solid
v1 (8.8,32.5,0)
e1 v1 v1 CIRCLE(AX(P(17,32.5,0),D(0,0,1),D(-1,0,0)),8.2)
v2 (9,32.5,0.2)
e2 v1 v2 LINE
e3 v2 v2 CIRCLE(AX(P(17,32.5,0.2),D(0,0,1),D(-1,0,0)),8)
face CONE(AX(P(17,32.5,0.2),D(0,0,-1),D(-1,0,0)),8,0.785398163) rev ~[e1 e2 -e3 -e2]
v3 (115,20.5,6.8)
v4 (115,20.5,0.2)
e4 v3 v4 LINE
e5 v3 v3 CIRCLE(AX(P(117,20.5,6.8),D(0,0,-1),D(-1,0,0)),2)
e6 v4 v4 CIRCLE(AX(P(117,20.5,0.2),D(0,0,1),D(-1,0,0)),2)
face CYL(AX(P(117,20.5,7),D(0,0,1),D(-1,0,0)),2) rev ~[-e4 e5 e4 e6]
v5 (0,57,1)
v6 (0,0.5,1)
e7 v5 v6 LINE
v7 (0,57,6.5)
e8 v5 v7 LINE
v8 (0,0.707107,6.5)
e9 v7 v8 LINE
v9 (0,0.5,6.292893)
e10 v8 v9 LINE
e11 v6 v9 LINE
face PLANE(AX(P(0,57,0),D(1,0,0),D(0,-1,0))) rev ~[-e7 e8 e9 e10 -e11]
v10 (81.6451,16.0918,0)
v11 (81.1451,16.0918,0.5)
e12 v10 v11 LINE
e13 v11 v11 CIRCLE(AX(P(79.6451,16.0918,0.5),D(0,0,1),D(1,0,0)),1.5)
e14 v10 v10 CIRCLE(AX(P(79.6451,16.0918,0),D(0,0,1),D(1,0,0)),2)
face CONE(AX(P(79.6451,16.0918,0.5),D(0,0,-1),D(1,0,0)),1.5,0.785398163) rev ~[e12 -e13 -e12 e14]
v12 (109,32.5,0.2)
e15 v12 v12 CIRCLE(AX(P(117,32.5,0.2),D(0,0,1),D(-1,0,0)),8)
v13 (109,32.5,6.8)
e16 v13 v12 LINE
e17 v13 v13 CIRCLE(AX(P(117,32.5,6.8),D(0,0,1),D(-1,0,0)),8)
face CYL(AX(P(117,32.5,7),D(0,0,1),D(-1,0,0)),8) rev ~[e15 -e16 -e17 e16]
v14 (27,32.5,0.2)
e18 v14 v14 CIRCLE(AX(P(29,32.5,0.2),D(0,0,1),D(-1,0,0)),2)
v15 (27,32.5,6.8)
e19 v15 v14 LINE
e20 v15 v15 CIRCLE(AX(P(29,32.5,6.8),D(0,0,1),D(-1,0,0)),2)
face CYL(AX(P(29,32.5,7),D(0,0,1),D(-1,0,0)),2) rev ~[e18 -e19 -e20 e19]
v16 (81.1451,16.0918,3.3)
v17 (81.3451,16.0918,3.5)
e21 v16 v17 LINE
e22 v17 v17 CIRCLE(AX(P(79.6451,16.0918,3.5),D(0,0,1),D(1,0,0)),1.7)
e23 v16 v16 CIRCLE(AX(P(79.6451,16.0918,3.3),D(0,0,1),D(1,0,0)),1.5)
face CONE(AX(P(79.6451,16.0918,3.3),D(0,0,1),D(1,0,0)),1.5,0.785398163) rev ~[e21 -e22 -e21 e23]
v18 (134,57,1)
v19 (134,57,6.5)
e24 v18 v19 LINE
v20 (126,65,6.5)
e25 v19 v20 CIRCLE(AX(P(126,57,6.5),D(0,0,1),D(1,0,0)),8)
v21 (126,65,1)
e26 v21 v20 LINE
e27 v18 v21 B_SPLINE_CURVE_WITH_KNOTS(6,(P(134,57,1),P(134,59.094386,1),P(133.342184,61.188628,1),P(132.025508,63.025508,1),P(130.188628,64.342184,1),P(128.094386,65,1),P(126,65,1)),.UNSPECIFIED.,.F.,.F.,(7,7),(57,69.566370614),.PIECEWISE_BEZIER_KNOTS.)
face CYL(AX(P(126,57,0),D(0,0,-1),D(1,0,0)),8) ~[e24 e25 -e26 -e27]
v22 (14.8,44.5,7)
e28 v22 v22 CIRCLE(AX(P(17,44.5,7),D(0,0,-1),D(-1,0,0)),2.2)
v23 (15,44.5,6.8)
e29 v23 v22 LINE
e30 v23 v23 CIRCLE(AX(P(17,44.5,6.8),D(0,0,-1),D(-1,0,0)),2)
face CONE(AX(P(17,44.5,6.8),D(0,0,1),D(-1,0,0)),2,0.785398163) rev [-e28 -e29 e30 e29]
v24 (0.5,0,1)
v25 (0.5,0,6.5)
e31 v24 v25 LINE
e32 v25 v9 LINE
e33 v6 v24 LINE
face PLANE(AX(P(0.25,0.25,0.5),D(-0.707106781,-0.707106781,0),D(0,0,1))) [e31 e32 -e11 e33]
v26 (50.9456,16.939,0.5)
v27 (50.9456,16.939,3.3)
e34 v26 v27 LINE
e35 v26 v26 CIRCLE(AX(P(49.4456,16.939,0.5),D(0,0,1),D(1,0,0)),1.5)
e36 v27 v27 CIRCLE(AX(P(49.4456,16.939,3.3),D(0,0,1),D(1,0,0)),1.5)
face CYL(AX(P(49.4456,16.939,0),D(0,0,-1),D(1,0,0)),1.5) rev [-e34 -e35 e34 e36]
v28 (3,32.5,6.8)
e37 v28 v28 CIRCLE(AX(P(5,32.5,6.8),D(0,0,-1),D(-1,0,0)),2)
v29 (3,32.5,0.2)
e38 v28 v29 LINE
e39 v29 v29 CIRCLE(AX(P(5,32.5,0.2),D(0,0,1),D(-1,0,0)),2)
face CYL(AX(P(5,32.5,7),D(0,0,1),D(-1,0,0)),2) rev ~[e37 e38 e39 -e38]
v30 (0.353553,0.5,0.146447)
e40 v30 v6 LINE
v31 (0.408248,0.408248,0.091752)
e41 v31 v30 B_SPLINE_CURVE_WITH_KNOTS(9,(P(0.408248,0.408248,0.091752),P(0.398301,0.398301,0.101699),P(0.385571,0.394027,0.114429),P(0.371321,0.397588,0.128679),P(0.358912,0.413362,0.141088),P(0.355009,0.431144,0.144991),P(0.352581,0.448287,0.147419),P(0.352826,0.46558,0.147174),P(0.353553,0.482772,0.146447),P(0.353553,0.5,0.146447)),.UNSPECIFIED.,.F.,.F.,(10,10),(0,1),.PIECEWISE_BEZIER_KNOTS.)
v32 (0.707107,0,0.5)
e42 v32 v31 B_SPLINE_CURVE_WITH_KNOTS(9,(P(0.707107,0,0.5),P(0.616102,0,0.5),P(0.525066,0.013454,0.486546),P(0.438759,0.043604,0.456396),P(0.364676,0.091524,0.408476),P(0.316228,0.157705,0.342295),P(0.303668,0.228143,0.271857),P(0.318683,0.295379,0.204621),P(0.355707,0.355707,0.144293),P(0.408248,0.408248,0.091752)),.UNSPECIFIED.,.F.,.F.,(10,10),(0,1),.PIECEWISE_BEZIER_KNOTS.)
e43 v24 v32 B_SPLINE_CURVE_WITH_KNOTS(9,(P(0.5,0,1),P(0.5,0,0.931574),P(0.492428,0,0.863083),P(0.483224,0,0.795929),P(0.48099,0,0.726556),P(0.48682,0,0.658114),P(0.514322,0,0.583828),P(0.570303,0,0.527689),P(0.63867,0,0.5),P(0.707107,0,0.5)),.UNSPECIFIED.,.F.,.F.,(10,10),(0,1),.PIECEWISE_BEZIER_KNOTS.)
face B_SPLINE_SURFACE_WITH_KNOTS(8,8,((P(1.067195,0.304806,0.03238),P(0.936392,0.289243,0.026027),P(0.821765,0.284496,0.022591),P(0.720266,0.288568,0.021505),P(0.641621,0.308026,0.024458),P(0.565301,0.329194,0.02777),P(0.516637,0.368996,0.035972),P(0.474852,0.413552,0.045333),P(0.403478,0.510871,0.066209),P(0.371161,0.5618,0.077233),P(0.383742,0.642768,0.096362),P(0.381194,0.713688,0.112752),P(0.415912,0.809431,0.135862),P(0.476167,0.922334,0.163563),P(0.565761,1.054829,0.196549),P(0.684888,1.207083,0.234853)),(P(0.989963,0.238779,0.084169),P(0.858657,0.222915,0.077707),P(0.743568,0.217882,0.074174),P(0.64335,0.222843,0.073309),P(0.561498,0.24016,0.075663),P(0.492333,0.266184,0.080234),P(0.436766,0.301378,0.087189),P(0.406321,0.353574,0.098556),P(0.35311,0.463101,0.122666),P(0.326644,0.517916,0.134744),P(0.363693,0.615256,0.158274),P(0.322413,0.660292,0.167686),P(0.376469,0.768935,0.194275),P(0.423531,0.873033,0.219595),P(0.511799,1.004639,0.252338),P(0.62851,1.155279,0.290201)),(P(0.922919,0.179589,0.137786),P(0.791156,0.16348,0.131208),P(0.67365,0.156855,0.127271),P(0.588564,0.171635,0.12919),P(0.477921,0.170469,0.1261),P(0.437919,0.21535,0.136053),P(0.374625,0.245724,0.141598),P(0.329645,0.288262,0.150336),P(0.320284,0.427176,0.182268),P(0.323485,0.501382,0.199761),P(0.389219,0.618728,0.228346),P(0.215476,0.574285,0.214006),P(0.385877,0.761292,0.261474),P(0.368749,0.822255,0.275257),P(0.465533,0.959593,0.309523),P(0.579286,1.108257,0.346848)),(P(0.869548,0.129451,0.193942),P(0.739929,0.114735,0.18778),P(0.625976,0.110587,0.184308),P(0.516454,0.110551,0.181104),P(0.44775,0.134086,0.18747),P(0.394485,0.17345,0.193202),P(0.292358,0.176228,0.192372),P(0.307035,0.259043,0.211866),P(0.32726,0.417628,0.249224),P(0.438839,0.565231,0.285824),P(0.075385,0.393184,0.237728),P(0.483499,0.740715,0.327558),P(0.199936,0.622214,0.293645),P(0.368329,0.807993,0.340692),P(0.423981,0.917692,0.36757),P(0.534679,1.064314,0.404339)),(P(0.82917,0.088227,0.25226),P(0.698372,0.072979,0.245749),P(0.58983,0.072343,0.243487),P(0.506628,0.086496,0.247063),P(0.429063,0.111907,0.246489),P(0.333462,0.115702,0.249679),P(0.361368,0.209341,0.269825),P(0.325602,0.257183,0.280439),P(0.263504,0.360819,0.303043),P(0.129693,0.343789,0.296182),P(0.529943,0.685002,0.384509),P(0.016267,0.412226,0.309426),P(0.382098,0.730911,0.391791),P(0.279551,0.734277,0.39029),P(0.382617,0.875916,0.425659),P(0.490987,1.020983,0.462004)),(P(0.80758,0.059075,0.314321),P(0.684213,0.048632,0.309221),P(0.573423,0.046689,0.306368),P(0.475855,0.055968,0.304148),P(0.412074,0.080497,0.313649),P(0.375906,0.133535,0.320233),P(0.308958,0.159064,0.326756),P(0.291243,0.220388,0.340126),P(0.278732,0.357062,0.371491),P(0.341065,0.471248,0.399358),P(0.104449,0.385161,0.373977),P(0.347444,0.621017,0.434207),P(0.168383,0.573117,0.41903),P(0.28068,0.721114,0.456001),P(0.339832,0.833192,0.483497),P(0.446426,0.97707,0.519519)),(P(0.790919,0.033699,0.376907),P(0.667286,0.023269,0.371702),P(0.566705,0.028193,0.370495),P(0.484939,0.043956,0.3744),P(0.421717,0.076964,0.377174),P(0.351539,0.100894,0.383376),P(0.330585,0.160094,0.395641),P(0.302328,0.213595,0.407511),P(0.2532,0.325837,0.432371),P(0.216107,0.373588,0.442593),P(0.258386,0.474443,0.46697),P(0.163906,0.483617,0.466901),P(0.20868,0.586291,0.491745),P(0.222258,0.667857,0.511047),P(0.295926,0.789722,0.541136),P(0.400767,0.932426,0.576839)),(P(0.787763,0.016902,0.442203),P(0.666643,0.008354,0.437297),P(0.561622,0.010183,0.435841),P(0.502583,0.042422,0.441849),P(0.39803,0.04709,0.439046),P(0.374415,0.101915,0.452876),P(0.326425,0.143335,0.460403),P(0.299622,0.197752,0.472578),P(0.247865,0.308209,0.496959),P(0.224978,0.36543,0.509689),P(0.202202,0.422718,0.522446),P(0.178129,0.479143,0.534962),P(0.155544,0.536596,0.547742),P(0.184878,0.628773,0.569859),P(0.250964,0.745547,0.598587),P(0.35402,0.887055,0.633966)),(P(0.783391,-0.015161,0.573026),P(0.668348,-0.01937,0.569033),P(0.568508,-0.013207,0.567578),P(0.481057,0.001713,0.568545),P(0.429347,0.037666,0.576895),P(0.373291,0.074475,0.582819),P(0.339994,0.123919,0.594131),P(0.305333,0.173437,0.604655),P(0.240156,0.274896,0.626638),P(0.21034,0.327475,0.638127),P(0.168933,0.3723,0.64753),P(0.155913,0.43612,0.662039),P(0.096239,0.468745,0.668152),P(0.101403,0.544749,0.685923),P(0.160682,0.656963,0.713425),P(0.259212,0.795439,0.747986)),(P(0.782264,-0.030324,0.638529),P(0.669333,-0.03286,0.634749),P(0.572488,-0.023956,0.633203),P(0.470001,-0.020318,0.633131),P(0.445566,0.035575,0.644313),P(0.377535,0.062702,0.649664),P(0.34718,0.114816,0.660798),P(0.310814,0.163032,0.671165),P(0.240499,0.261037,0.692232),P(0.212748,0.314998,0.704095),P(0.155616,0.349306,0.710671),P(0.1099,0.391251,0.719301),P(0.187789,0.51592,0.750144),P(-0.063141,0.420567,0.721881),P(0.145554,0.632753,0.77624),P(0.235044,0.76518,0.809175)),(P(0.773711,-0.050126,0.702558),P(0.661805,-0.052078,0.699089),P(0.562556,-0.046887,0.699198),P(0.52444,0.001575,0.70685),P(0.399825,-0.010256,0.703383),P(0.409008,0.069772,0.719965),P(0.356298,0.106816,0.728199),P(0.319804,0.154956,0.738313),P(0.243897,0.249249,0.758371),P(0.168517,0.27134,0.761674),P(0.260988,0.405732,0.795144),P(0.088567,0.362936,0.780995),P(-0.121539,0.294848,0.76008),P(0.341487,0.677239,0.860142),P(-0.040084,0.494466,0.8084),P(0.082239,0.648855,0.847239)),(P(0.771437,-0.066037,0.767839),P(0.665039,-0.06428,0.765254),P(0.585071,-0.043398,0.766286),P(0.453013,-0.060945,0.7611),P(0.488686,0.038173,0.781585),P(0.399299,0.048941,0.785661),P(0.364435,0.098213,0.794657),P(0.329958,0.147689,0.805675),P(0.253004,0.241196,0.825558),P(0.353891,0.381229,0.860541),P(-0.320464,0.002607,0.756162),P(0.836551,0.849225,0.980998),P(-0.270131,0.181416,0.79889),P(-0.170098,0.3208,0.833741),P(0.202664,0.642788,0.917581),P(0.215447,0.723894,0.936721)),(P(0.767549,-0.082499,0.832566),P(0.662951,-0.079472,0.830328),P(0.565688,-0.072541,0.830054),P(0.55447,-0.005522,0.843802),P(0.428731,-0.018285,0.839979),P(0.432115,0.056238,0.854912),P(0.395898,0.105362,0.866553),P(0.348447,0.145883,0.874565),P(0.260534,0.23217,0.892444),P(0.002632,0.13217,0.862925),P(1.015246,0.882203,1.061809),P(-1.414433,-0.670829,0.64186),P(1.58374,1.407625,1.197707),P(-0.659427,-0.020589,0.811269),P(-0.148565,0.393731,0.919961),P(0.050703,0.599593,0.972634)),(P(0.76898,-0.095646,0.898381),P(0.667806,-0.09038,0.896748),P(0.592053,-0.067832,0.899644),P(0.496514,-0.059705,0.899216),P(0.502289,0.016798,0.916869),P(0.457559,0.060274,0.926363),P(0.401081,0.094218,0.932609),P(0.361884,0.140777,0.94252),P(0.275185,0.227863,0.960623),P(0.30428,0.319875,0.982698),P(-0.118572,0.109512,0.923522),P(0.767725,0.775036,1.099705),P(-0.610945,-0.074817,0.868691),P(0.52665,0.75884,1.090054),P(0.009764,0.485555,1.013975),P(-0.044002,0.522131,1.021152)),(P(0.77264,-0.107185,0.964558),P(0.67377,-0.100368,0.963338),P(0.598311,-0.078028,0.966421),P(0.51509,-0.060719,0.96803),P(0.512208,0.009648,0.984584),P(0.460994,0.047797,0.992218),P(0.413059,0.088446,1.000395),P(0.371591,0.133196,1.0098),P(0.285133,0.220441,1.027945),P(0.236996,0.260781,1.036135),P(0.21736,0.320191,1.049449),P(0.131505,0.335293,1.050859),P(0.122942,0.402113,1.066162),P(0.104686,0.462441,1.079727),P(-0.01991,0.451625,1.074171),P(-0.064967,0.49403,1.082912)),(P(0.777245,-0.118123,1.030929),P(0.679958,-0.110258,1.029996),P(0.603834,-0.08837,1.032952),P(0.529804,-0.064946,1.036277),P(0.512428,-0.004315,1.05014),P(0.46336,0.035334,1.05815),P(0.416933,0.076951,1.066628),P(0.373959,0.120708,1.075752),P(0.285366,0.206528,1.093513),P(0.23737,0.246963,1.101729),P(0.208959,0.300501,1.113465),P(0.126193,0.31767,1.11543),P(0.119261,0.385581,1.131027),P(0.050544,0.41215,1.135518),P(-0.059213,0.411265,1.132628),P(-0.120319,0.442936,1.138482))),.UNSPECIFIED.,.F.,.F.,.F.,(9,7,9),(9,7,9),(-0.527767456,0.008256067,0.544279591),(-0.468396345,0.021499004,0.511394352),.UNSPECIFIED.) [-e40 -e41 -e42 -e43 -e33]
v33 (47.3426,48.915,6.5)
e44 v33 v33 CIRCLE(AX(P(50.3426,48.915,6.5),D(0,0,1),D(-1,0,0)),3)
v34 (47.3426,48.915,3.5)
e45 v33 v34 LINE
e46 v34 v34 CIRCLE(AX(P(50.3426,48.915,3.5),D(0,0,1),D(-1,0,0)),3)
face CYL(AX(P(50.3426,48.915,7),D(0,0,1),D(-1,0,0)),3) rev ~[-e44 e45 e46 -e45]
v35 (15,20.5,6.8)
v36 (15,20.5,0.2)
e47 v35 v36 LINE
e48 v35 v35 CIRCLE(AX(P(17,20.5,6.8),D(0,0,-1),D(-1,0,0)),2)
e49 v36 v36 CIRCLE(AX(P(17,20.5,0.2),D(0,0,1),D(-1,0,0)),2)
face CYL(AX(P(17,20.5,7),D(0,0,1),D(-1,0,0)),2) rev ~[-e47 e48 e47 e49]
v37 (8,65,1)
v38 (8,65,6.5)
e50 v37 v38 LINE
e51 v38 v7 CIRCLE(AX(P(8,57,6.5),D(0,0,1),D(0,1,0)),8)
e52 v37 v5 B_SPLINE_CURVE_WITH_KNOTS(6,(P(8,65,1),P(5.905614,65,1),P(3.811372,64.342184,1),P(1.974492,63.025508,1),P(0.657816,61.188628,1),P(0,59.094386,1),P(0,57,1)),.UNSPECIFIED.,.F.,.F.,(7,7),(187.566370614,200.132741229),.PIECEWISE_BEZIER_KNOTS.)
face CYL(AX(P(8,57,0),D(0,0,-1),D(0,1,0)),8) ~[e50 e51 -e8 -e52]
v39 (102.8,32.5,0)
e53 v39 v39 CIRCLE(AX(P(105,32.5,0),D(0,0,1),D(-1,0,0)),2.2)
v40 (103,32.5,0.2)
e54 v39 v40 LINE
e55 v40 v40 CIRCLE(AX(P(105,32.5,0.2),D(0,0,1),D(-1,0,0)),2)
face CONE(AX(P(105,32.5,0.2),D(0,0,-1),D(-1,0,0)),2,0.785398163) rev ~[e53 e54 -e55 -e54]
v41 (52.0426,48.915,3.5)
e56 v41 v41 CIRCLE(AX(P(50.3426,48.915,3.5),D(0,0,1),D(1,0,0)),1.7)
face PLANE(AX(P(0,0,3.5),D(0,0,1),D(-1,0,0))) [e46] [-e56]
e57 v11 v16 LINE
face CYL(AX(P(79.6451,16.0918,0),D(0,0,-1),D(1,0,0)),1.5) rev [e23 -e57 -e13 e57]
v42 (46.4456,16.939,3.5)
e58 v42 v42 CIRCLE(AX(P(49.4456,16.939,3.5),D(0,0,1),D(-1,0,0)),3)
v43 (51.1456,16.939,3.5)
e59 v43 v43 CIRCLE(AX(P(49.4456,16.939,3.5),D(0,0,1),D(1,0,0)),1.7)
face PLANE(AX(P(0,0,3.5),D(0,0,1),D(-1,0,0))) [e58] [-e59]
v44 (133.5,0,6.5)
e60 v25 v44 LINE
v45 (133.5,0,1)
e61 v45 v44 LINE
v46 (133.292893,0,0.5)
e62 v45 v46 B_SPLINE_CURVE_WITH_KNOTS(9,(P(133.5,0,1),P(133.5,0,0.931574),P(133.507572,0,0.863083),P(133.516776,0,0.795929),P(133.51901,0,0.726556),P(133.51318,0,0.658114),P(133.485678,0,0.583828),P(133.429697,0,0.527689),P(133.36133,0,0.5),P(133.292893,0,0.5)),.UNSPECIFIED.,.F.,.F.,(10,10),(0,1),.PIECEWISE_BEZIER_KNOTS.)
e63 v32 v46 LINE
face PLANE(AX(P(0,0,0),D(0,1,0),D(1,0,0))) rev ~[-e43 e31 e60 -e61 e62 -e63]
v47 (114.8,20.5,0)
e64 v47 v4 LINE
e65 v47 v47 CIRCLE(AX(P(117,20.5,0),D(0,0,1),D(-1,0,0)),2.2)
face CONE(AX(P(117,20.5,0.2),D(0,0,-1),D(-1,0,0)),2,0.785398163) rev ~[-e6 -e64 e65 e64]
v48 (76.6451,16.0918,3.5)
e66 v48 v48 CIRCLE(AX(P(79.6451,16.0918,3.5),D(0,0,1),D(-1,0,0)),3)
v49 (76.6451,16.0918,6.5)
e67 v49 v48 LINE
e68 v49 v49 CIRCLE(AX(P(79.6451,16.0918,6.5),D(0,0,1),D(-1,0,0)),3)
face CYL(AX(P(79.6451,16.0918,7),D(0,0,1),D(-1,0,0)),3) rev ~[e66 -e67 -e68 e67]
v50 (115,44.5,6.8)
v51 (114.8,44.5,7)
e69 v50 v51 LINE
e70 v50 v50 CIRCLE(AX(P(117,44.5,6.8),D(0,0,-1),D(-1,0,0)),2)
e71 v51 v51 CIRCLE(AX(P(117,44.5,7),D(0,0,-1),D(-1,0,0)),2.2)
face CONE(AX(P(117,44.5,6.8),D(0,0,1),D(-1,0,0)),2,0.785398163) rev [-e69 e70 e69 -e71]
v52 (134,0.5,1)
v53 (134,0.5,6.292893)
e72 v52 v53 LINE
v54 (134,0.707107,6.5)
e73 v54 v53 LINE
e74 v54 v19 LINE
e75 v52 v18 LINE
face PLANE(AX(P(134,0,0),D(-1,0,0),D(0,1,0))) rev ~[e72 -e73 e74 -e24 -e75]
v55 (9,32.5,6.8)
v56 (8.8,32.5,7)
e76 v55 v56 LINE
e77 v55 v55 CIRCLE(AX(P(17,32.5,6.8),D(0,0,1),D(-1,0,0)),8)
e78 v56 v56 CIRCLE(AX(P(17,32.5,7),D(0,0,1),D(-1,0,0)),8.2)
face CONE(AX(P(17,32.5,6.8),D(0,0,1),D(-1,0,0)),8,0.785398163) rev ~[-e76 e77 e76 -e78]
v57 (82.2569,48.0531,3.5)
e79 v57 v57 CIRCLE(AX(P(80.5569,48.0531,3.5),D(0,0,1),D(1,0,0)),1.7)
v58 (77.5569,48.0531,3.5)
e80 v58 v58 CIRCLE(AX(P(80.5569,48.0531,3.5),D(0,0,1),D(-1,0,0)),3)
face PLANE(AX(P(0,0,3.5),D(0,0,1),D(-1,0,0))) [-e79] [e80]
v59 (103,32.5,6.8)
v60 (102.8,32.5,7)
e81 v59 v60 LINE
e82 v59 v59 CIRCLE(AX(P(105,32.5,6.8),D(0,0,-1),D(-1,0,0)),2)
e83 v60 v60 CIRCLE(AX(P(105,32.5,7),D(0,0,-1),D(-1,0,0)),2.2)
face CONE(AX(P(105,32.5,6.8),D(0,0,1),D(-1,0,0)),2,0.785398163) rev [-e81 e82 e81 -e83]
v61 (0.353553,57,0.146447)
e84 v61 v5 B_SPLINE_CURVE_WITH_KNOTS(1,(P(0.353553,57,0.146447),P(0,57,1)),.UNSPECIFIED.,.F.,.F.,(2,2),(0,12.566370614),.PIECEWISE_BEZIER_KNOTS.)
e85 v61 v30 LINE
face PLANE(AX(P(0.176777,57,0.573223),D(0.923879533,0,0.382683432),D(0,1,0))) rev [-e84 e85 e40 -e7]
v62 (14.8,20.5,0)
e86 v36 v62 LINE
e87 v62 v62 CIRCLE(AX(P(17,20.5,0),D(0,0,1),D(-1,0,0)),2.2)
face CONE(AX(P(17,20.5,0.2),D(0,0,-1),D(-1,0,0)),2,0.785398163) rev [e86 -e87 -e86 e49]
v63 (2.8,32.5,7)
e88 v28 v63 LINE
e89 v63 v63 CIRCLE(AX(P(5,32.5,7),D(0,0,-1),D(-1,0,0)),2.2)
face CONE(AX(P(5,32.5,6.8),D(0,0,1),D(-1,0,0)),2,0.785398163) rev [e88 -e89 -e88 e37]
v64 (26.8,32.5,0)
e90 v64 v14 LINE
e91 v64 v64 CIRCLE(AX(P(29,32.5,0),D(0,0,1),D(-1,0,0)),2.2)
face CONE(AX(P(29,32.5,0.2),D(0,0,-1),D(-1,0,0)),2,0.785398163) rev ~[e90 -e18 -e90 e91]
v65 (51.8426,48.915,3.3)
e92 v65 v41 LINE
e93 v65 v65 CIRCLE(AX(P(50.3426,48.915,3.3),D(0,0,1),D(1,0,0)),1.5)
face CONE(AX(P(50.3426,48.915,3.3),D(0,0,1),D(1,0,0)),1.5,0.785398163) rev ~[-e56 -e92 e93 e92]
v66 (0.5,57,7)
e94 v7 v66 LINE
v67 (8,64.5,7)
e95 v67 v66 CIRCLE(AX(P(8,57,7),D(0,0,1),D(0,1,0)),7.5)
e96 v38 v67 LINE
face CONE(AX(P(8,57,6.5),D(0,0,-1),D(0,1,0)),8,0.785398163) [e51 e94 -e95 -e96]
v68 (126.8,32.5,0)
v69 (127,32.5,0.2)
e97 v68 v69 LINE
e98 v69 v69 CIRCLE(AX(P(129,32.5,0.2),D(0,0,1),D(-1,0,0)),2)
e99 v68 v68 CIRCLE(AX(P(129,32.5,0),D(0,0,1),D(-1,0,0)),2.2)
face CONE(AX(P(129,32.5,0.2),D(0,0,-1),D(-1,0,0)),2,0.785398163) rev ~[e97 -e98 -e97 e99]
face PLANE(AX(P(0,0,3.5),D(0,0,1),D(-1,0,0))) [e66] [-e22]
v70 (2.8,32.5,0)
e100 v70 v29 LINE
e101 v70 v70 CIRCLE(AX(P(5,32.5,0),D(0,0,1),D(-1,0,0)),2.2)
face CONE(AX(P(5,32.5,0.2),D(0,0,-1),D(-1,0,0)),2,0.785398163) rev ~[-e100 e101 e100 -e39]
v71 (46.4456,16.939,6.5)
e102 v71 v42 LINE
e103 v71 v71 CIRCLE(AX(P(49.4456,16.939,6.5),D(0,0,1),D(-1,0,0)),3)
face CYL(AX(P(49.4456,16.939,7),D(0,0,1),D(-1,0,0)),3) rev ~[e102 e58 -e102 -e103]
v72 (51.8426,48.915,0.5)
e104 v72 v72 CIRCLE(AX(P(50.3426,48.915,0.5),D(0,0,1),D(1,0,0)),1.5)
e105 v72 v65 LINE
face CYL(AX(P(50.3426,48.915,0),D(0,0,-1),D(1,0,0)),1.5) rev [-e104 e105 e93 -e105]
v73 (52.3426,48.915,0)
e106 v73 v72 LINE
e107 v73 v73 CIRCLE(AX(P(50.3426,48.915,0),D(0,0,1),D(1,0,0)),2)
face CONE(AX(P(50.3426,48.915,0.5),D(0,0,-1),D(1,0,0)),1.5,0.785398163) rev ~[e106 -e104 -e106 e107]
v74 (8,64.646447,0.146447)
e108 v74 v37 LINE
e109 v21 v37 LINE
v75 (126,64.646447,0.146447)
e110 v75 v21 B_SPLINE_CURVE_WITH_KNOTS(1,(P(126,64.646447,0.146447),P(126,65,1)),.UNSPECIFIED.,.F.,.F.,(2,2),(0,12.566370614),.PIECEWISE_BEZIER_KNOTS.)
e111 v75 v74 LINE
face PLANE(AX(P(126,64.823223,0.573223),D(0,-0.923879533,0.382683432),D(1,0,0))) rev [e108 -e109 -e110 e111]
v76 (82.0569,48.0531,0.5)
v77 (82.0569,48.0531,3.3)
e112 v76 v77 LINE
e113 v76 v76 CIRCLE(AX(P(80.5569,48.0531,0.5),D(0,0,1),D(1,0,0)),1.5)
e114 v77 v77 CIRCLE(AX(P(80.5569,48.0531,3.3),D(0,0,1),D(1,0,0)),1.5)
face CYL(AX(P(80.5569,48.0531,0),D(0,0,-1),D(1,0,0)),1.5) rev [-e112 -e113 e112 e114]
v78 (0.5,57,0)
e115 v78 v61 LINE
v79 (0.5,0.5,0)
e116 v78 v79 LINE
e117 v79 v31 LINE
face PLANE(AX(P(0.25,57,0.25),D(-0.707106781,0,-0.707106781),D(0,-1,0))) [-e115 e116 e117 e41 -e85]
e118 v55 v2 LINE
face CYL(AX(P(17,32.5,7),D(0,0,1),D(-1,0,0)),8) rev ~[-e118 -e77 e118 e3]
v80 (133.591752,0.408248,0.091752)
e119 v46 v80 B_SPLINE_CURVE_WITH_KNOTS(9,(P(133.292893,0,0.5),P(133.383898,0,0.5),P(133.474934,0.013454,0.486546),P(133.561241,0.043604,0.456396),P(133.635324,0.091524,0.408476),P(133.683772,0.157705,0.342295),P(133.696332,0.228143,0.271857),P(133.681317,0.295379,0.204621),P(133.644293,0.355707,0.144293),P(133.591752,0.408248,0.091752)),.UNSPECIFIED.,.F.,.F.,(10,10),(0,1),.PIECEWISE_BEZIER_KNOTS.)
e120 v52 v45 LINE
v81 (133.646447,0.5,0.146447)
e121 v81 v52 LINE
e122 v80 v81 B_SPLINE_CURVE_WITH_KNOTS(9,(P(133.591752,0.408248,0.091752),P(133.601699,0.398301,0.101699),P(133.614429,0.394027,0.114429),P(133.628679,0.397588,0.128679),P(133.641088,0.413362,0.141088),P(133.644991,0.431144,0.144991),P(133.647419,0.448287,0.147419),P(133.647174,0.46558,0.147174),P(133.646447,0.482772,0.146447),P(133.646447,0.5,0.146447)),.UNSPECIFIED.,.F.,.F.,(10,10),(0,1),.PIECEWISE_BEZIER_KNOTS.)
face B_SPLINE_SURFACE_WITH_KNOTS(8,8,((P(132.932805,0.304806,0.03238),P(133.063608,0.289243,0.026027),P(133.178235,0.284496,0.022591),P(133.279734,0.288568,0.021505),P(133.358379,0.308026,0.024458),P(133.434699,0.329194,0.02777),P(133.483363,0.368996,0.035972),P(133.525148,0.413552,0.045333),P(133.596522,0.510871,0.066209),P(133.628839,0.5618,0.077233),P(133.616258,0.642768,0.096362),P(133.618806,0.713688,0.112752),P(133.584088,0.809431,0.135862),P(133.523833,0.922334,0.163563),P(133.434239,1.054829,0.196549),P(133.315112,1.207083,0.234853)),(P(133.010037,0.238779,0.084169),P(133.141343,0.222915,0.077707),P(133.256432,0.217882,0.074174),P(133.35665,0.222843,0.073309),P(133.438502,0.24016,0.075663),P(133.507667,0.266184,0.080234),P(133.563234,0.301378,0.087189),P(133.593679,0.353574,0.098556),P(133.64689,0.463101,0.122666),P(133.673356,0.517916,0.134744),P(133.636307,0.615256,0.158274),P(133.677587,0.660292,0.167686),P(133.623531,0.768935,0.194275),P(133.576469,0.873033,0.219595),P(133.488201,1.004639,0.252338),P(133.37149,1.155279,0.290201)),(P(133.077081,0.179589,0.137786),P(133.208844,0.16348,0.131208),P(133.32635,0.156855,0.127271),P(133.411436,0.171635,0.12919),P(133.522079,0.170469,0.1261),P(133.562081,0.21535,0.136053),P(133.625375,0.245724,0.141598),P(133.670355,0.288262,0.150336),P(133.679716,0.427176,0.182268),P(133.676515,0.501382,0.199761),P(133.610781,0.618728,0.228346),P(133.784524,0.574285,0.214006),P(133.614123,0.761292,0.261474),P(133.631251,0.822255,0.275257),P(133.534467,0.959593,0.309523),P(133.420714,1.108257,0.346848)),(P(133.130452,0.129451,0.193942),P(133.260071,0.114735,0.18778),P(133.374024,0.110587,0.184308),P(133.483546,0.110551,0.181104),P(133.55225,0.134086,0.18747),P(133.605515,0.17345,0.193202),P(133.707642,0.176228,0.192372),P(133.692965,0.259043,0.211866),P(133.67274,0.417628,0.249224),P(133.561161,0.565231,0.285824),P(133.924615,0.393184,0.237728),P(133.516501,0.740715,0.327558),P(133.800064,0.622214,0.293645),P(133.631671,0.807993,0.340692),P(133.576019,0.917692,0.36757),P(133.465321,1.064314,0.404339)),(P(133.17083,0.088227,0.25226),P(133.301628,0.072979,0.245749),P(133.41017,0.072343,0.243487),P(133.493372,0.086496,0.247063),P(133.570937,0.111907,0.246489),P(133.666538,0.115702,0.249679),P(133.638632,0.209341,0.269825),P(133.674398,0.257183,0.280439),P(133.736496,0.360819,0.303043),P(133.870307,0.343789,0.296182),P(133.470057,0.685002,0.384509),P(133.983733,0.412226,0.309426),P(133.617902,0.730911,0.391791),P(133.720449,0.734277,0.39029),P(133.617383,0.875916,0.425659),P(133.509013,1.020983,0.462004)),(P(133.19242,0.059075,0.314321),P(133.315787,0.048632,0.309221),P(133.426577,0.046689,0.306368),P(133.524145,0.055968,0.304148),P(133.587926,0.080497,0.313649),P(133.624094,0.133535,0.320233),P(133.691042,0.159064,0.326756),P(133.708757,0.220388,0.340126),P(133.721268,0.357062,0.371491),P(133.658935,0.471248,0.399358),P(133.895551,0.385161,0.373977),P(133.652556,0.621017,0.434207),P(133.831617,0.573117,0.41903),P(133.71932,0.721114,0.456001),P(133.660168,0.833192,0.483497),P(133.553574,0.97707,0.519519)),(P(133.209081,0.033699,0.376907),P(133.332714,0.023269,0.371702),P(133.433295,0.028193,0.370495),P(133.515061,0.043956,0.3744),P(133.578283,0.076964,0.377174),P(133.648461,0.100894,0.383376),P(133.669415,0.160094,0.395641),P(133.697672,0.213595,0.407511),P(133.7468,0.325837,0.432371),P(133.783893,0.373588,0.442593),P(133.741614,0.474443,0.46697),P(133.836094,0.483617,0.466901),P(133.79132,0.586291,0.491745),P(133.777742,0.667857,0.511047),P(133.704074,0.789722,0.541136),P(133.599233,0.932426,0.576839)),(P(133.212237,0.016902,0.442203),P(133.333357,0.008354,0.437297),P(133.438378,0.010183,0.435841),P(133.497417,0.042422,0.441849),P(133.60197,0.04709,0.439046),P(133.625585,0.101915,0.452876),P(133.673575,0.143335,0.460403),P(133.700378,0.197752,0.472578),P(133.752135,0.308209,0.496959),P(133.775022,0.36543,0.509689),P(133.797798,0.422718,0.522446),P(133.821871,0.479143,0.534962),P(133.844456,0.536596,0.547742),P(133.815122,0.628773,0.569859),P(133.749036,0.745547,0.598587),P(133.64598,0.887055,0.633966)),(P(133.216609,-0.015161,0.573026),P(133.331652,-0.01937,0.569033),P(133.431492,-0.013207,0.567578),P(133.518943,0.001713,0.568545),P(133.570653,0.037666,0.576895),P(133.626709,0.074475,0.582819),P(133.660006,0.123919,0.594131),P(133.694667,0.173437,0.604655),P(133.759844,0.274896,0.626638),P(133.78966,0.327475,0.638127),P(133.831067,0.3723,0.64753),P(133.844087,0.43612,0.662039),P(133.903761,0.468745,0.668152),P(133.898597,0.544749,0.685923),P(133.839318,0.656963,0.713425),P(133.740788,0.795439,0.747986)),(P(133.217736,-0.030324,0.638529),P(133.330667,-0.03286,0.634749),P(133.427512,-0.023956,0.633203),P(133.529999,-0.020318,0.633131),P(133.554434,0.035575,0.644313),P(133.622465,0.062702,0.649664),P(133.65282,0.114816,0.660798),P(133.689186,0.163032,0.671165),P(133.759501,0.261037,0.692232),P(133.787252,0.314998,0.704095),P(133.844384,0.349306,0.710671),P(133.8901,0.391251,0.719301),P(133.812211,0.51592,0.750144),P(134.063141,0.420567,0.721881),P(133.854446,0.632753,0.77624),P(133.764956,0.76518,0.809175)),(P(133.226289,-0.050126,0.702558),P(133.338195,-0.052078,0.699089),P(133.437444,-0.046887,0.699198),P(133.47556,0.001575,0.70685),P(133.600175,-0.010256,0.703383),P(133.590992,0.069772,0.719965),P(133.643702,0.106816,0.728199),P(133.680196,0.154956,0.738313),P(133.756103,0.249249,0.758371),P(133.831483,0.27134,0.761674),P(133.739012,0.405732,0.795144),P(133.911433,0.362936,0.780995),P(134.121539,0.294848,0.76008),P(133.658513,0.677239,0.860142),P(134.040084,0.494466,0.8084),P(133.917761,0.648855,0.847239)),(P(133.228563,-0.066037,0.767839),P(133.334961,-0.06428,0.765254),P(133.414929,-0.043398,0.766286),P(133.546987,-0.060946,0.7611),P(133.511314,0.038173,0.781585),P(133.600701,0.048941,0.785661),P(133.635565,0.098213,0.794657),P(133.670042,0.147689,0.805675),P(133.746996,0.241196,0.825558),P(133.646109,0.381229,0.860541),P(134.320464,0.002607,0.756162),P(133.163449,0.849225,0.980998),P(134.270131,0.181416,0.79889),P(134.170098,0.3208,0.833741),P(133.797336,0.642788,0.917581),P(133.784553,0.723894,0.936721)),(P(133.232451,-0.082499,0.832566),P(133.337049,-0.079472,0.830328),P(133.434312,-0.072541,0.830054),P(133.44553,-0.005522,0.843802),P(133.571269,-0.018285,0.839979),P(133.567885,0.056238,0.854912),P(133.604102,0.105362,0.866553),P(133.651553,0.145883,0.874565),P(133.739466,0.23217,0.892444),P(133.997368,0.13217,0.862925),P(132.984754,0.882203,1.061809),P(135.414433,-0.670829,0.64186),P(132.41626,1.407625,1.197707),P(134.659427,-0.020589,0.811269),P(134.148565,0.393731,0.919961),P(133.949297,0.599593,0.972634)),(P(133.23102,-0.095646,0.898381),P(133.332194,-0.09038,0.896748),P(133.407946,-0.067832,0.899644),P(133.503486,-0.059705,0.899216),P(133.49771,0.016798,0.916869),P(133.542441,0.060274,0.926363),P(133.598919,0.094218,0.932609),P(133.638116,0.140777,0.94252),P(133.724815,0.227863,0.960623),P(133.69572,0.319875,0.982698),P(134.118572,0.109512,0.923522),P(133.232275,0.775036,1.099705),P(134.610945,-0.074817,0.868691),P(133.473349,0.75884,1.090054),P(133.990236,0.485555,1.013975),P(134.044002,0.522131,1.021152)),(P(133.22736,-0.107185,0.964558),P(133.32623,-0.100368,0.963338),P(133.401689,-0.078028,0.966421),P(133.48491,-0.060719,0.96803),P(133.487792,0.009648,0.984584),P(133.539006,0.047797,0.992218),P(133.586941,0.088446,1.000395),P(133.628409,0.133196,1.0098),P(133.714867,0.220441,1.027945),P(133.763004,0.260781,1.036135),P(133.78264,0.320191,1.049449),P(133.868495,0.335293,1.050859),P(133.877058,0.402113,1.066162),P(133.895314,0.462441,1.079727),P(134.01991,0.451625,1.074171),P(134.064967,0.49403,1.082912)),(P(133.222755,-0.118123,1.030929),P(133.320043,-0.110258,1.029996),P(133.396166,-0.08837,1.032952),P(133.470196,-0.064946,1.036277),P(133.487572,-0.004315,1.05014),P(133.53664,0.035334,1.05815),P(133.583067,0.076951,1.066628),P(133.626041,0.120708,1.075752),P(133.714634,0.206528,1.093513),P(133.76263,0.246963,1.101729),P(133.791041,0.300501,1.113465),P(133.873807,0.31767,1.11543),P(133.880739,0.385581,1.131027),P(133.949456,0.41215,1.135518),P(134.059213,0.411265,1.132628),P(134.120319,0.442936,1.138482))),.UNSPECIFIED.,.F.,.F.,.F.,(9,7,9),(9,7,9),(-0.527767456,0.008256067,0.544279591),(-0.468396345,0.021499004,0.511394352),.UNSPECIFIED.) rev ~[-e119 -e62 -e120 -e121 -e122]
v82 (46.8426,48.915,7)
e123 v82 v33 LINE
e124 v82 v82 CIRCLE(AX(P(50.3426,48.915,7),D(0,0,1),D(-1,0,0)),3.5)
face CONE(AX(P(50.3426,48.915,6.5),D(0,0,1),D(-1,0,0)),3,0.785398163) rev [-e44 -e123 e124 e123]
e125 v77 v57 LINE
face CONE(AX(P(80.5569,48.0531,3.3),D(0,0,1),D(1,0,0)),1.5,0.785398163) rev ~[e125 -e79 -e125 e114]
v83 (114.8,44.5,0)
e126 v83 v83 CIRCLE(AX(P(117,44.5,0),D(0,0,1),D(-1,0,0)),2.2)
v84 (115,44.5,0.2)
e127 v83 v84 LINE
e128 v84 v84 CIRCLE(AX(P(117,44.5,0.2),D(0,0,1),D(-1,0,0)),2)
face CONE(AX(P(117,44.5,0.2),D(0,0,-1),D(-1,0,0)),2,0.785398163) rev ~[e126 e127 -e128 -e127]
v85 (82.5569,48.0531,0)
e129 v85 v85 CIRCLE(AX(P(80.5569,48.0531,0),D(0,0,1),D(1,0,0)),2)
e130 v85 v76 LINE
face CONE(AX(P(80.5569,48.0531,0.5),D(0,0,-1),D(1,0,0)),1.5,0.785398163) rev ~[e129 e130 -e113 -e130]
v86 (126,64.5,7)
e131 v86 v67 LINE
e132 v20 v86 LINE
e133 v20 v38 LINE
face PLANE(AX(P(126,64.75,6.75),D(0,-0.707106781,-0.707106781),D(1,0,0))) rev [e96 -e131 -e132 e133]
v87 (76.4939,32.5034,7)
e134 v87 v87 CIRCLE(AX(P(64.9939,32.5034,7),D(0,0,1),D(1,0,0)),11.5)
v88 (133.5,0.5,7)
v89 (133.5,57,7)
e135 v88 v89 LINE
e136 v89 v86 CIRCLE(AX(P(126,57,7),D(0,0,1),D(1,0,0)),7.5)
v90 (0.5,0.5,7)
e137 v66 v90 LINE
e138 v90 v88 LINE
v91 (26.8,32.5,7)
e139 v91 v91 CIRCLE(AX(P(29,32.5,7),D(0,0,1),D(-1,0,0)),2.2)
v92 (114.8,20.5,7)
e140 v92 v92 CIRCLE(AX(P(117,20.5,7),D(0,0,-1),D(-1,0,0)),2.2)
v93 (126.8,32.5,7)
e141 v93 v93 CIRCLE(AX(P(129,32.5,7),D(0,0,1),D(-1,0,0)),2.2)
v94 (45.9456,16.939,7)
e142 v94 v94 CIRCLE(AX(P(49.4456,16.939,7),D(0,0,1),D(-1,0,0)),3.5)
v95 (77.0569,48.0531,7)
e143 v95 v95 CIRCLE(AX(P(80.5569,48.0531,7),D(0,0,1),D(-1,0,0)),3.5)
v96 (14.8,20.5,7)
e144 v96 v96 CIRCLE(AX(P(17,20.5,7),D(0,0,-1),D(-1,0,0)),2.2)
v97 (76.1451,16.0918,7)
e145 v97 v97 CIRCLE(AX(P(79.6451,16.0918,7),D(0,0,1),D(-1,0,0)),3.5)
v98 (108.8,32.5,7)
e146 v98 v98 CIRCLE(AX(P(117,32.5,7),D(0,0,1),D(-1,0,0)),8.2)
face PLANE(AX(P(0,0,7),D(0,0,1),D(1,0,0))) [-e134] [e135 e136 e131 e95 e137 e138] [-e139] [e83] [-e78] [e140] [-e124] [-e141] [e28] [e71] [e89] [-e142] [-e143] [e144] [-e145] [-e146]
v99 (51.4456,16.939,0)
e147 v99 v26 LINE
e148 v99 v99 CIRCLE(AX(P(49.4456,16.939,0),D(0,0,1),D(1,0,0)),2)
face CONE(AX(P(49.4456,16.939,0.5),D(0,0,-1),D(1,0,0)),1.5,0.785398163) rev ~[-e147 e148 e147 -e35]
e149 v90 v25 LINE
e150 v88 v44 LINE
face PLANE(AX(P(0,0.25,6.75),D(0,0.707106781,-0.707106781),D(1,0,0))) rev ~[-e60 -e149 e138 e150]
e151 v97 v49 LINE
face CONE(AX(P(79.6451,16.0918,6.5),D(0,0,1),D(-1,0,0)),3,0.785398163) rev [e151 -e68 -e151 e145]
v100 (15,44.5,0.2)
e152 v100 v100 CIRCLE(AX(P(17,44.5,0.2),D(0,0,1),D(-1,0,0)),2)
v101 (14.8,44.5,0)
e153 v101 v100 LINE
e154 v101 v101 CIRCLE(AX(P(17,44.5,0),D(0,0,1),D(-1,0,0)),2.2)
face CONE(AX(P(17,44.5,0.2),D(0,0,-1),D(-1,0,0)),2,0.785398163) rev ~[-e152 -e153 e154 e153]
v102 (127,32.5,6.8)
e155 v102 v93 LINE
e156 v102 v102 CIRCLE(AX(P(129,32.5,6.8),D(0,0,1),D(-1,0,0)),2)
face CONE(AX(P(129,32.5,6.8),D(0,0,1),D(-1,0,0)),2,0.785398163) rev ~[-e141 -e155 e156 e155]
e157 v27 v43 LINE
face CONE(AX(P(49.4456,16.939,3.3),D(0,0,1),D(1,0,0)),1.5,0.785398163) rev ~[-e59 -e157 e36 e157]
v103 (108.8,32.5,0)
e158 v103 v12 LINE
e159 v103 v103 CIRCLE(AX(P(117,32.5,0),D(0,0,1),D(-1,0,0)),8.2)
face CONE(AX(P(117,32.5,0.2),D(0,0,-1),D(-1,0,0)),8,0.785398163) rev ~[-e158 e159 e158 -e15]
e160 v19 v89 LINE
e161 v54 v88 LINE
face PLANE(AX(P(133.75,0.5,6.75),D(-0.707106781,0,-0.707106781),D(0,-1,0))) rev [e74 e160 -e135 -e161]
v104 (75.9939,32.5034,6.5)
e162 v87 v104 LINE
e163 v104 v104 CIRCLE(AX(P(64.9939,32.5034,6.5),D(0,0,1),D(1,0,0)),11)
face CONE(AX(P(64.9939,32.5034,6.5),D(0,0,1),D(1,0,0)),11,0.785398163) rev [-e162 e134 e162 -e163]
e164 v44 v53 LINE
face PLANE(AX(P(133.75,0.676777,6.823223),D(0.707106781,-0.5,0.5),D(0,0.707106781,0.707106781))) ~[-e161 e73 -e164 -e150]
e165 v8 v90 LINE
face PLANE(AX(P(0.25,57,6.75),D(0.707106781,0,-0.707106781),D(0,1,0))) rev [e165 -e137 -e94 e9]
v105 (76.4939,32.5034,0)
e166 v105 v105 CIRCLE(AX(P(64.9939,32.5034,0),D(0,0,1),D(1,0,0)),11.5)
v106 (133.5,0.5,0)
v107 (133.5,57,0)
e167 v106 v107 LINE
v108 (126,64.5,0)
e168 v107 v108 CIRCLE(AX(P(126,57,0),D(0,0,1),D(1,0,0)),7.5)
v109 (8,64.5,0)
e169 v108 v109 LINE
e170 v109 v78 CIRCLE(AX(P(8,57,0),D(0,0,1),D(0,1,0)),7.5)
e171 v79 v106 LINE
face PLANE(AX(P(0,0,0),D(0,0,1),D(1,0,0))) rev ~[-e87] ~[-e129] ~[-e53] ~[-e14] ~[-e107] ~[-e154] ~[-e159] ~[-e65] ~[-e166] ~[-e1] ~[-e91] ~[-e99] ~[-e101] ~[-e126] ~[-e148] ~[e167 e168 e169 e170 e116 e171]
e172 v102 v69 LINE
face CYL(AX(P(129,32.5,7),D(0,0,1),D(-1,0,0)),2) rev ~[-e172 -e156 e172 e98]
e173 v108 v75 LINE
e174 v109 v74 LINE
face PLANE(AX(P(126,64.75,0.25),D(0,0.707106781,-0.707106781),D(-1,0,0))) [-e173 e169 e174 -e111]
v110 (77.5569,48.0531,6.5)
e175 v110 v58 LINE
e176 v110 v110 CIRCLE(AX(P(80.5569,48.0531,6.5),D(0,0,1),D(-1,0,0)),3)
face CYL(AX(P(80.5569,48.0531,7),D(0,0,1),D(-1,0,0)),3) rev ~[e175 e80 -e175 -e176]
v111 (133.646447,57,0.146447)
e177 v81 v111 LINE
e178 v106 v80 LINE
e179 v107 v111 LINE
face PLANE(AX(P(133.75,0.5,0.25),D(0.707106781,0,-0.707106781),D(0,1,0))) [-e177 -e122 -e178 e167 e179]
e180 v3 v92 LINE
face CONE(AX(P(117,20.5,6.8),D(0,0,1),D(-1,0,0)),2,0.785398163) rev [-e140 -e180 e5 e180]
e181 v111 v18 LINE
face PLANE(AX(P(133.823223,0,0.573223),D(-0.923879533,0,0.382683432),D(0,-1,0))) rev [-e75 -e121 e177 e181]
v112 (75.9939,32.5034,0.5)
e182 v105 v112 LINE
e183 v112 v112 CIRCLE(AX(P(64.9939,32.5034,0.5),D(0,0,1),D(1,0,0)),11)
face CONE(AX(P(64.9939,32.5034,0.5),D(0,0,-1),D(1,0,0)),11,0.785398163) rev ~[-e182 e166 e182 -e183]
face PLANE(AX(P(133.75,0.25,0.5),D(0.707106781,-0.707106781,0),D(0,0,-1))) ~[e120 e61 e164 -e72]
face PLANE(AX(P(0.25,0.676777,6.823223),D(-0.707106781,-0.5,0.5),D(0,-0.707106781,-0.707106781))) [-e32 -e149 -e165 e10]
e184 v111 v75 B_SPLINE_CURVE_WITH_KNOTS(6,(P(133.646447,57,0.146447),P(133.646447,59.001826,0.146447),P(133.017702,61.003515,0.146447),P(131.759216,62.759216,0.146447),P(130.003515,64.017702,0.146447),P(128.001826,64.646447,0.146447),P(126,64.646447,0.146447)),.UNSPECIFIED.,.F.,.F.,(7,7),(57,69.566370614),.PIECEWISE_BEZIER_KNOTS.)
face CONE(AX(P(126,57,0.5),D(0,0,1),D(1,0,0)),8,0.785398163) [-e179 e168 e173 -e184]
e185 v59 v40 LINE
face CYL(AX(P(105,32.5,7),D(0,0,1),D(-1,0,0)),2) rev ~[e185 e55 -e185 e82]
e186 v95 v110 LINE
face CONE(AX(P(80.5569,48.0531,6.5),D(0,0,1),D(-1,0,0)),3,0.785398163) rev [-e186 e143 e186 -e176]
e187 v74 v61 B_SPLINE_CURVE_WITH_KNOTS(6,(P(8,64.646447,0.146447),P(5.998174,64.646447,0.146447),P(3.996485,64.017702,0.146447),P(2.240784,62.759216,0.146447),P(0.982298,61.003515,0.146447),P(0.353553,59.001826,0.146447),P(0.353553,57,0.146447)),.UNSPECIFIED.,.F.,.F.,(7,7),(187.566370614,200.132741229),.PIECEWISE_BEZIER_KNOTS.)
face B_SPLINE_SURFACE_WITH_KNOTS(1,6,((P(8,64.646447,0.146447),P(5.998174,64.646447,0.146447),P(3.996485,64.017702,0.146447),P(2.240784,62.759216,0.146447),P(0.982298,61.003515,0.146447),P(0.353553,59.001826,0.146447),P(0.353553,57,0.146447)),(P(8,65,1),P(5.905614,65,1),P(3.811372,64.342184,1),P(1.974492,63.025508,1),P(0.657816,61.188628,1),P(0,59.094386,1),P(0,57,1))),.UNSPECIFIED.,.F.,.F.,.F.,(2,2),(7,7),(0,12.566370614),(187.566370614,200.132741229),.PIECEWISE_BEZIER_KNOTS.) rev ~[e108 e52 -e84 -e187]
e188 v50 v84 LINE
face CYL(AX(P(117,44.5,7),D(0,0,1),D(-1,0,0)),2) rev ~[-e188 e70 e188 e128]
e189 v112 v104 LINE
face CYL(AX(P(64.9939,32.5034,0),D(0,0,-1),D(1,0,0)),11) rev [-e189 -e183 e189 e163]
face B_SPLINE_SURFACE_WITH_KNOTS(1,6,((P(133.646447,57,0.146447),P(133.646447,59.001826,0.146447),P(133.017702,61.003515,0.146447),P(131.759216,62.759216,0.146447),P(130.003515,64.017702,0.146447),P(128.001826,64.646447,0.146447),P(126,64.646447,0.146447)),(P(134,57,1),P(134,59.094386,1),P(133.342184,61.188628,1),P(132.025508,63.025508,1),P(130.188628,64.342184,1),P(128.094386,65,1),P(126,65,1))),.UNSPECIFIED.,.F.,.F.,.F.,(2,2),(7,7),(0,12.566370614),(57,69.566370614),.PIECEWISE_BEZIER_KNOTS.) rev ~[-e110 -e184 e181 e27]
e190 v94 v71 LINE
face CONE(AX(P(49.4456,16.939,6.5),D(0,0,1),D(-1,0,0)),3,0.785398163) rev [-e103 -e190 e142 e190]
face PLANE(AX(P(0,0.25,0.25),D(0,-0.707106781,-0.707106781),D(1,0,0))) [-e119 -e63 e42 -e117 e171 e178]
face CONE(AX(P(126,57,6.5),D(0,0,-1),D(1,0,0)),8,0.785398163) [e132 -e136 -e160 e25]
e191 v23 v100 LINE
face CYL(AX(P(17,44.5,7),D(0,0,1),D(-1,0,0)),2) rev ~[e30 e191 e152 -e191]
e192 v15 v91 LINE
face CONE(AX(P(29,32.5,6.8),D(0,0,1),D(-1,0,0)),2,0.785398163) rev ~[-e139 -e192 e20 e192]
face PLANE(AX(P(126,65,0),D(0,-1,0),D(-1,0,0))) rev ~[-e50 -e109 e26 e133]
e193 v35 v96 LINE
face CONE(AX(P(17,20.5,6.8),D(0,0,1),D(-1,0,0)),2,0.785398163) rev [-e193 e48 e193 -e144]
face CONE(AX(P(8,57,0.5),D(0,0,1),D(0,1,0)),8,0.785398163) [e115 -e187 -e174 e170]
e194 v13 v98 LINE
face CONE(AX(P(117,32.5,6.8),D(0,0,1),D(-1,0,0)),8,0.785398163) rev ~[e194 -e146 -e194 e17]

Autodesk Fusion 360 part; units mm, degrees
sketch "Sketch2" plane through (0, 0, 0) normal (0, 0, 1) x (1, 0, 0)
  line L0 (0, 0) -> (134, 0)
  line L1 (134, 0) -> (134, 57)
  line L2 (126, 65) -> (8, 65)
  line L3 (0, 57) -> (0, 0)
  circle A0 centre (64.9939, 32.5034) radius 11
  circle A1 centre (17, 32.5) radius 4
  circle A2 centre (117, 32.5) radius 4
  circle A3 centre (50.3426, 48.915) radius 1.5
  circle A4 centre (80.5569, 48.0531) radius 1.5
  circle A5 centre (49.4456, 16.939) radius 1.5
  circle A6 centre (79.6451, 16.0918) radius 1.5
  arc A7 (8, 65) -> (0, 57) centre (8, 57) ccw
  arc A8 (134, 57) -> (126, 65) centre (126, 57) ccw
  point P0 (0, 65)
  dimension "d1" = 134
  dimension "d2" = 65
  dimension "d6" = 8
  dimension "d8" = 8
  dimension "d32" = 3
  dimension "d34" = 3
  dimension "d36" = 3
  dimension "d38" = 3
  dimension "d39" = 8
  dimension "d40" = 8
extrude "Extrude1" add sketch "Sketch2" along normal blind 7 makes body 1
sketch "Sketch3" plane through (0, 0, 7) normal (0, 0, 1) x (-1, 0, 0)
  circle A0 centre (-17, -32.5) radius 4
  circle A1 centre (-64.9939, -32.5034) radius 11
  circle A2 centre (-50.3426, -48.915) radius 1.5
  circle A3 centre (-80.5569, -48.0531) radius 1.5
  circle A4 centre (-117, -32.5) radius 4
  circle A5 centre (-79.6451, -16.0918) radius 1.5
  circle A6 centre (-49.4456, -16.939) radius 1.5
  arc A7 (-134, -57) -> (-126, -65) centre (-126, -57) ccw
  line L0 (-126, -65) -> (-8, -65)
  arc A8 (-8, -65) -> (0, -57) centre (-8, -57) ccw
  line L1 (0, -57) -> (0, 0)
  line L2 (0, 0) -> (-134, 0)
  line L3 (-134, 0) -> (-134, -57)
  circle A9 centre (-50.3426, -48.915) radius 3
  circle A10 centre (-80.5569, -48.0531) radius 3
  circle A11 centre (-79.6451, -16.0918) radius 3
  circle A12 centre (-49.4456, -16.939) radius 3
  dimension "d43" = 6
  dimension "d44" = 6
  dimension "d45" = 6
  dimension "d46" = 6
extrude "Extrude2" cut sketch "Sketch3" against normal blind 3.5 contours A9 | A10 | A11 | A12 bodies 1
copy_body "Body->Comp1" bodies 1 removing the originals makes body 2 in component "Motor Bracket"
chamfer "Chamfer1" distance 0.5 angle 45 1 edges at (13.2707, 33.9465, 7) on bodies 2 in component "Motor Bracket"
chamfer "Chamfer2" distance 0.5 angle 45 1 edges at (53.1396, 47.8301, 7) on bodies 2 in component "Motor Bracket"
chamfer "Chamfer3" distance 0.5 angle 45 6 edges at (83.3539, 46.9682, 7) (52.2426, 15.8541, 7) (61.0161, 22.2478, 7) (82.4421, 15.007, 7) (67, 0, 7) (113.2707, 33.9465, 7) on bodies 2 in component "Motor Bracket"
chamfer "Chamfer4" distance 0.2 angle 45 1 edges at (79.1584, 47.5107, 3.5) on bodies 2 in component "Motor Bracket"
chamfer "Chamfer5" distance 0.2 angle 45 1 edges at (48.9441, 48.3726, 3.5) on bodies 2 in component "Motor Bracket"
chamfer "Chamfer6" distance 0.2 angle 45 1 edges at (48.0471, 16.3965, 3.5) on bodies 2 in component "Motor Bracket"
chamfer "Chamfer7" distance 0.2 angle 45 1 edges at (78.2467, 15.5494, 3.5) on bodies 2 in component "Motor Bracket"
chamfer "Chamfer8" distance 0.5 angle 45 1 edges at (13.2707, 33.9465, 0) on bodies 2 in component "Motor Bracket"
chamfer "Chamfer9" distance 0.5 angle 45 6 edges at (48.0471, 17.4814, 0) (48.9441, 49.4574, 0) (61.0161, 22.2478, 0) (79.1584, 48.5955, 0) (78.2467, 16.6342, 0) (113.2707, 33.9465, 0) on bodies 2 in component "Motor Bracket"
chamfer "Chamfer10" distance 0.5 angle 45 1 edges at (67, 0, 0) on bodies 2 in component "Motor Bracket"
chamfer "Chamfer11" distance 0.5 angle 45 5 edges at (134, 28.75, 0) (131.6569, 62.6569, 0) (67, 65, 0) (2.3431, 62.6569, 0) (0, 28.75, 0) on bodies 2 in component "Motor Bracket"
chamfer "Chamfer12" distance 0.5 angle 45 5 faces at (0, 19.1667, 2.6667) (1.4834, 61.6405, 4.8333) (86.6667, 65, 2.6667) (126.3807, 64.9909, 4.8333) (134, 19.1667, 2.6667) on bodies 2 in component "Motor Bracket"
sketch "Sketch4" plane through (0, 0, 7) normal (0, 0, 1) x (-1, 0, 0)
  line L0 (-0.5, -57) -> (-0.5, -0.5)
  line L1 (-0.5, -0.5) -> (-133.5, -0.5)
  line L2 (-133.5, -0.5) -> (-133.5, -57)
  arc A0 (-133.5, -57) -> (-126, -64.5) centre (-126, -57) ccw
  line L3 (-126, -64.5) -> (-8, -64.5)
  arc A1 (-8, -64.5) -> (-0.5, -57) centre (-8, -57) ccw
  circle A2 centre (-64.9939, -32.5034) radius 11.5
  circle A3 centre (-80.5569, -48.0531) radius 3.5
  circle A4 centre (-17, -32.5) radius 4.5
  circle A5 centre (-50.3426, -48.915) radius 3.5
  circle A6 centre (-49.4456, -16.939) radius 3.5
  circle A7 centre (-79.6451, -16.0918) radius 3.5
  circle A8 centre (-117, -32.5) radius 4.5
  circle A9 centre (-17, -32.5) radius 8
  line L4 (-17, -32.5) -> (-17, -44.5)
  line L5 (-17, -32.5) -> (-17, -20.5)
  line L6 (-17, -32.5) -> (-29, -32.5)
  line L7 (-17, -32.5) -> (-5, -32.5)
  circle A10 centre (-17, -44.5) radius 2
  circle A11 centre (-29, -32.5) radius 2
  circle A12 centre (-17, -20.5) radius 2
  circle A13 centre (-5, -32.5) radius 2
  circle A14 centre (-117, -32.5) radius 8
  line L8 (-117, -32.5) -> (-117, -44.5)
  line L9 (-117, -32.5) -> (-129, -32.5)
  line L10 (-117, -32.5) -> (-105, -32.5)
  line L11 (-117, -32.5) -> (-117, -20.5)
  circle A15 centre (-117, -44.5) radius 2
  circle A16 centre (-129, -32.5) radius 2
  circle A17 centre (-117, -20.5) radius 2
  circle A18 centre (-105, -32.5) radius 2
  dimension "d61" = 16
  dimension "d62" = 12
  dimension "d63" = 12
  dimension "d64" = 12
  dimension "d65" = 12
  dimension "d66" = 4
  dimension "d67" = 4
  dimension "d68" = 4
  dimension "d69" = 4
  dimension "d70" = 16
  dimension "d71" = 12
  dimension "d72" = 12
  dimension "d73" = 12
  dimension "d74" = 12
  dimension "d75" = 4
  dimension "d76" = 4
  dimension "d77" = 4
  dimension "d78" = 4
extrude "Extrude1'" cut sketch "Sketch4" against normal blind 30 contours A4 L5 L7 | A4 A9 L4 L7 | A4 L4 L7 | A4 A9 L5 L7 | A4 L5 L6 | A4 A9 L5 L6 | A4 A9 L4 L6 | A4 L4 L6 | A10 | A11 | A12 | A13 | A8 L10 L11 | A8 A14 L8 L10 | A8 L8 L10 | A8 A14 L10 L11 | A8 L9 L11 | A8 A14 L9 L11 | A8 A14 L8 L9 | A8 L8 L9 | A15 | A16 | A17 | A18 bodies 2 in component "Motor Bracket"
chamfer "Chamfer13" distance 0.2 angle 45 10 edges at (6.8647, 31.7768, 7) (18.8647, 43.7768, 7) (30.8647, 31.7768, 7) (24.4586, 29.6071, 7) (18.8647, 19.7768, 7) (124.4586, 29.6071, 7) (118.8647, 43.7768, 7) (106.8647, 31.7768, 7) (118.8647, 19.7768, 7) (130.8647, 31.7768, 7) on bodies 2 in component "Motor Bracket"
chamfer "Chamfer14" distance 0.2 angle 45 10 edges at (118.8647, 45.2232, 0) (124.4586, 35.3929, 0) (130.8647, 33.2232, 0) (118.8647, 21.2232, 0) (106.8647, 33.2232, 0) (30.8647, 33.2232, 0) (18.8647, 45.2232, 0) (6.8647, 33.2232, 0) (18.8647, 21.2232, 0) (24.4586, 35.3929, 0) on bodies 2 in component "Motor Bracket"
component "Motor Bracket" placed x (1, 0, 0) y (0, 1, 0) z (0, 0, 1) at (0, 0, 0)
